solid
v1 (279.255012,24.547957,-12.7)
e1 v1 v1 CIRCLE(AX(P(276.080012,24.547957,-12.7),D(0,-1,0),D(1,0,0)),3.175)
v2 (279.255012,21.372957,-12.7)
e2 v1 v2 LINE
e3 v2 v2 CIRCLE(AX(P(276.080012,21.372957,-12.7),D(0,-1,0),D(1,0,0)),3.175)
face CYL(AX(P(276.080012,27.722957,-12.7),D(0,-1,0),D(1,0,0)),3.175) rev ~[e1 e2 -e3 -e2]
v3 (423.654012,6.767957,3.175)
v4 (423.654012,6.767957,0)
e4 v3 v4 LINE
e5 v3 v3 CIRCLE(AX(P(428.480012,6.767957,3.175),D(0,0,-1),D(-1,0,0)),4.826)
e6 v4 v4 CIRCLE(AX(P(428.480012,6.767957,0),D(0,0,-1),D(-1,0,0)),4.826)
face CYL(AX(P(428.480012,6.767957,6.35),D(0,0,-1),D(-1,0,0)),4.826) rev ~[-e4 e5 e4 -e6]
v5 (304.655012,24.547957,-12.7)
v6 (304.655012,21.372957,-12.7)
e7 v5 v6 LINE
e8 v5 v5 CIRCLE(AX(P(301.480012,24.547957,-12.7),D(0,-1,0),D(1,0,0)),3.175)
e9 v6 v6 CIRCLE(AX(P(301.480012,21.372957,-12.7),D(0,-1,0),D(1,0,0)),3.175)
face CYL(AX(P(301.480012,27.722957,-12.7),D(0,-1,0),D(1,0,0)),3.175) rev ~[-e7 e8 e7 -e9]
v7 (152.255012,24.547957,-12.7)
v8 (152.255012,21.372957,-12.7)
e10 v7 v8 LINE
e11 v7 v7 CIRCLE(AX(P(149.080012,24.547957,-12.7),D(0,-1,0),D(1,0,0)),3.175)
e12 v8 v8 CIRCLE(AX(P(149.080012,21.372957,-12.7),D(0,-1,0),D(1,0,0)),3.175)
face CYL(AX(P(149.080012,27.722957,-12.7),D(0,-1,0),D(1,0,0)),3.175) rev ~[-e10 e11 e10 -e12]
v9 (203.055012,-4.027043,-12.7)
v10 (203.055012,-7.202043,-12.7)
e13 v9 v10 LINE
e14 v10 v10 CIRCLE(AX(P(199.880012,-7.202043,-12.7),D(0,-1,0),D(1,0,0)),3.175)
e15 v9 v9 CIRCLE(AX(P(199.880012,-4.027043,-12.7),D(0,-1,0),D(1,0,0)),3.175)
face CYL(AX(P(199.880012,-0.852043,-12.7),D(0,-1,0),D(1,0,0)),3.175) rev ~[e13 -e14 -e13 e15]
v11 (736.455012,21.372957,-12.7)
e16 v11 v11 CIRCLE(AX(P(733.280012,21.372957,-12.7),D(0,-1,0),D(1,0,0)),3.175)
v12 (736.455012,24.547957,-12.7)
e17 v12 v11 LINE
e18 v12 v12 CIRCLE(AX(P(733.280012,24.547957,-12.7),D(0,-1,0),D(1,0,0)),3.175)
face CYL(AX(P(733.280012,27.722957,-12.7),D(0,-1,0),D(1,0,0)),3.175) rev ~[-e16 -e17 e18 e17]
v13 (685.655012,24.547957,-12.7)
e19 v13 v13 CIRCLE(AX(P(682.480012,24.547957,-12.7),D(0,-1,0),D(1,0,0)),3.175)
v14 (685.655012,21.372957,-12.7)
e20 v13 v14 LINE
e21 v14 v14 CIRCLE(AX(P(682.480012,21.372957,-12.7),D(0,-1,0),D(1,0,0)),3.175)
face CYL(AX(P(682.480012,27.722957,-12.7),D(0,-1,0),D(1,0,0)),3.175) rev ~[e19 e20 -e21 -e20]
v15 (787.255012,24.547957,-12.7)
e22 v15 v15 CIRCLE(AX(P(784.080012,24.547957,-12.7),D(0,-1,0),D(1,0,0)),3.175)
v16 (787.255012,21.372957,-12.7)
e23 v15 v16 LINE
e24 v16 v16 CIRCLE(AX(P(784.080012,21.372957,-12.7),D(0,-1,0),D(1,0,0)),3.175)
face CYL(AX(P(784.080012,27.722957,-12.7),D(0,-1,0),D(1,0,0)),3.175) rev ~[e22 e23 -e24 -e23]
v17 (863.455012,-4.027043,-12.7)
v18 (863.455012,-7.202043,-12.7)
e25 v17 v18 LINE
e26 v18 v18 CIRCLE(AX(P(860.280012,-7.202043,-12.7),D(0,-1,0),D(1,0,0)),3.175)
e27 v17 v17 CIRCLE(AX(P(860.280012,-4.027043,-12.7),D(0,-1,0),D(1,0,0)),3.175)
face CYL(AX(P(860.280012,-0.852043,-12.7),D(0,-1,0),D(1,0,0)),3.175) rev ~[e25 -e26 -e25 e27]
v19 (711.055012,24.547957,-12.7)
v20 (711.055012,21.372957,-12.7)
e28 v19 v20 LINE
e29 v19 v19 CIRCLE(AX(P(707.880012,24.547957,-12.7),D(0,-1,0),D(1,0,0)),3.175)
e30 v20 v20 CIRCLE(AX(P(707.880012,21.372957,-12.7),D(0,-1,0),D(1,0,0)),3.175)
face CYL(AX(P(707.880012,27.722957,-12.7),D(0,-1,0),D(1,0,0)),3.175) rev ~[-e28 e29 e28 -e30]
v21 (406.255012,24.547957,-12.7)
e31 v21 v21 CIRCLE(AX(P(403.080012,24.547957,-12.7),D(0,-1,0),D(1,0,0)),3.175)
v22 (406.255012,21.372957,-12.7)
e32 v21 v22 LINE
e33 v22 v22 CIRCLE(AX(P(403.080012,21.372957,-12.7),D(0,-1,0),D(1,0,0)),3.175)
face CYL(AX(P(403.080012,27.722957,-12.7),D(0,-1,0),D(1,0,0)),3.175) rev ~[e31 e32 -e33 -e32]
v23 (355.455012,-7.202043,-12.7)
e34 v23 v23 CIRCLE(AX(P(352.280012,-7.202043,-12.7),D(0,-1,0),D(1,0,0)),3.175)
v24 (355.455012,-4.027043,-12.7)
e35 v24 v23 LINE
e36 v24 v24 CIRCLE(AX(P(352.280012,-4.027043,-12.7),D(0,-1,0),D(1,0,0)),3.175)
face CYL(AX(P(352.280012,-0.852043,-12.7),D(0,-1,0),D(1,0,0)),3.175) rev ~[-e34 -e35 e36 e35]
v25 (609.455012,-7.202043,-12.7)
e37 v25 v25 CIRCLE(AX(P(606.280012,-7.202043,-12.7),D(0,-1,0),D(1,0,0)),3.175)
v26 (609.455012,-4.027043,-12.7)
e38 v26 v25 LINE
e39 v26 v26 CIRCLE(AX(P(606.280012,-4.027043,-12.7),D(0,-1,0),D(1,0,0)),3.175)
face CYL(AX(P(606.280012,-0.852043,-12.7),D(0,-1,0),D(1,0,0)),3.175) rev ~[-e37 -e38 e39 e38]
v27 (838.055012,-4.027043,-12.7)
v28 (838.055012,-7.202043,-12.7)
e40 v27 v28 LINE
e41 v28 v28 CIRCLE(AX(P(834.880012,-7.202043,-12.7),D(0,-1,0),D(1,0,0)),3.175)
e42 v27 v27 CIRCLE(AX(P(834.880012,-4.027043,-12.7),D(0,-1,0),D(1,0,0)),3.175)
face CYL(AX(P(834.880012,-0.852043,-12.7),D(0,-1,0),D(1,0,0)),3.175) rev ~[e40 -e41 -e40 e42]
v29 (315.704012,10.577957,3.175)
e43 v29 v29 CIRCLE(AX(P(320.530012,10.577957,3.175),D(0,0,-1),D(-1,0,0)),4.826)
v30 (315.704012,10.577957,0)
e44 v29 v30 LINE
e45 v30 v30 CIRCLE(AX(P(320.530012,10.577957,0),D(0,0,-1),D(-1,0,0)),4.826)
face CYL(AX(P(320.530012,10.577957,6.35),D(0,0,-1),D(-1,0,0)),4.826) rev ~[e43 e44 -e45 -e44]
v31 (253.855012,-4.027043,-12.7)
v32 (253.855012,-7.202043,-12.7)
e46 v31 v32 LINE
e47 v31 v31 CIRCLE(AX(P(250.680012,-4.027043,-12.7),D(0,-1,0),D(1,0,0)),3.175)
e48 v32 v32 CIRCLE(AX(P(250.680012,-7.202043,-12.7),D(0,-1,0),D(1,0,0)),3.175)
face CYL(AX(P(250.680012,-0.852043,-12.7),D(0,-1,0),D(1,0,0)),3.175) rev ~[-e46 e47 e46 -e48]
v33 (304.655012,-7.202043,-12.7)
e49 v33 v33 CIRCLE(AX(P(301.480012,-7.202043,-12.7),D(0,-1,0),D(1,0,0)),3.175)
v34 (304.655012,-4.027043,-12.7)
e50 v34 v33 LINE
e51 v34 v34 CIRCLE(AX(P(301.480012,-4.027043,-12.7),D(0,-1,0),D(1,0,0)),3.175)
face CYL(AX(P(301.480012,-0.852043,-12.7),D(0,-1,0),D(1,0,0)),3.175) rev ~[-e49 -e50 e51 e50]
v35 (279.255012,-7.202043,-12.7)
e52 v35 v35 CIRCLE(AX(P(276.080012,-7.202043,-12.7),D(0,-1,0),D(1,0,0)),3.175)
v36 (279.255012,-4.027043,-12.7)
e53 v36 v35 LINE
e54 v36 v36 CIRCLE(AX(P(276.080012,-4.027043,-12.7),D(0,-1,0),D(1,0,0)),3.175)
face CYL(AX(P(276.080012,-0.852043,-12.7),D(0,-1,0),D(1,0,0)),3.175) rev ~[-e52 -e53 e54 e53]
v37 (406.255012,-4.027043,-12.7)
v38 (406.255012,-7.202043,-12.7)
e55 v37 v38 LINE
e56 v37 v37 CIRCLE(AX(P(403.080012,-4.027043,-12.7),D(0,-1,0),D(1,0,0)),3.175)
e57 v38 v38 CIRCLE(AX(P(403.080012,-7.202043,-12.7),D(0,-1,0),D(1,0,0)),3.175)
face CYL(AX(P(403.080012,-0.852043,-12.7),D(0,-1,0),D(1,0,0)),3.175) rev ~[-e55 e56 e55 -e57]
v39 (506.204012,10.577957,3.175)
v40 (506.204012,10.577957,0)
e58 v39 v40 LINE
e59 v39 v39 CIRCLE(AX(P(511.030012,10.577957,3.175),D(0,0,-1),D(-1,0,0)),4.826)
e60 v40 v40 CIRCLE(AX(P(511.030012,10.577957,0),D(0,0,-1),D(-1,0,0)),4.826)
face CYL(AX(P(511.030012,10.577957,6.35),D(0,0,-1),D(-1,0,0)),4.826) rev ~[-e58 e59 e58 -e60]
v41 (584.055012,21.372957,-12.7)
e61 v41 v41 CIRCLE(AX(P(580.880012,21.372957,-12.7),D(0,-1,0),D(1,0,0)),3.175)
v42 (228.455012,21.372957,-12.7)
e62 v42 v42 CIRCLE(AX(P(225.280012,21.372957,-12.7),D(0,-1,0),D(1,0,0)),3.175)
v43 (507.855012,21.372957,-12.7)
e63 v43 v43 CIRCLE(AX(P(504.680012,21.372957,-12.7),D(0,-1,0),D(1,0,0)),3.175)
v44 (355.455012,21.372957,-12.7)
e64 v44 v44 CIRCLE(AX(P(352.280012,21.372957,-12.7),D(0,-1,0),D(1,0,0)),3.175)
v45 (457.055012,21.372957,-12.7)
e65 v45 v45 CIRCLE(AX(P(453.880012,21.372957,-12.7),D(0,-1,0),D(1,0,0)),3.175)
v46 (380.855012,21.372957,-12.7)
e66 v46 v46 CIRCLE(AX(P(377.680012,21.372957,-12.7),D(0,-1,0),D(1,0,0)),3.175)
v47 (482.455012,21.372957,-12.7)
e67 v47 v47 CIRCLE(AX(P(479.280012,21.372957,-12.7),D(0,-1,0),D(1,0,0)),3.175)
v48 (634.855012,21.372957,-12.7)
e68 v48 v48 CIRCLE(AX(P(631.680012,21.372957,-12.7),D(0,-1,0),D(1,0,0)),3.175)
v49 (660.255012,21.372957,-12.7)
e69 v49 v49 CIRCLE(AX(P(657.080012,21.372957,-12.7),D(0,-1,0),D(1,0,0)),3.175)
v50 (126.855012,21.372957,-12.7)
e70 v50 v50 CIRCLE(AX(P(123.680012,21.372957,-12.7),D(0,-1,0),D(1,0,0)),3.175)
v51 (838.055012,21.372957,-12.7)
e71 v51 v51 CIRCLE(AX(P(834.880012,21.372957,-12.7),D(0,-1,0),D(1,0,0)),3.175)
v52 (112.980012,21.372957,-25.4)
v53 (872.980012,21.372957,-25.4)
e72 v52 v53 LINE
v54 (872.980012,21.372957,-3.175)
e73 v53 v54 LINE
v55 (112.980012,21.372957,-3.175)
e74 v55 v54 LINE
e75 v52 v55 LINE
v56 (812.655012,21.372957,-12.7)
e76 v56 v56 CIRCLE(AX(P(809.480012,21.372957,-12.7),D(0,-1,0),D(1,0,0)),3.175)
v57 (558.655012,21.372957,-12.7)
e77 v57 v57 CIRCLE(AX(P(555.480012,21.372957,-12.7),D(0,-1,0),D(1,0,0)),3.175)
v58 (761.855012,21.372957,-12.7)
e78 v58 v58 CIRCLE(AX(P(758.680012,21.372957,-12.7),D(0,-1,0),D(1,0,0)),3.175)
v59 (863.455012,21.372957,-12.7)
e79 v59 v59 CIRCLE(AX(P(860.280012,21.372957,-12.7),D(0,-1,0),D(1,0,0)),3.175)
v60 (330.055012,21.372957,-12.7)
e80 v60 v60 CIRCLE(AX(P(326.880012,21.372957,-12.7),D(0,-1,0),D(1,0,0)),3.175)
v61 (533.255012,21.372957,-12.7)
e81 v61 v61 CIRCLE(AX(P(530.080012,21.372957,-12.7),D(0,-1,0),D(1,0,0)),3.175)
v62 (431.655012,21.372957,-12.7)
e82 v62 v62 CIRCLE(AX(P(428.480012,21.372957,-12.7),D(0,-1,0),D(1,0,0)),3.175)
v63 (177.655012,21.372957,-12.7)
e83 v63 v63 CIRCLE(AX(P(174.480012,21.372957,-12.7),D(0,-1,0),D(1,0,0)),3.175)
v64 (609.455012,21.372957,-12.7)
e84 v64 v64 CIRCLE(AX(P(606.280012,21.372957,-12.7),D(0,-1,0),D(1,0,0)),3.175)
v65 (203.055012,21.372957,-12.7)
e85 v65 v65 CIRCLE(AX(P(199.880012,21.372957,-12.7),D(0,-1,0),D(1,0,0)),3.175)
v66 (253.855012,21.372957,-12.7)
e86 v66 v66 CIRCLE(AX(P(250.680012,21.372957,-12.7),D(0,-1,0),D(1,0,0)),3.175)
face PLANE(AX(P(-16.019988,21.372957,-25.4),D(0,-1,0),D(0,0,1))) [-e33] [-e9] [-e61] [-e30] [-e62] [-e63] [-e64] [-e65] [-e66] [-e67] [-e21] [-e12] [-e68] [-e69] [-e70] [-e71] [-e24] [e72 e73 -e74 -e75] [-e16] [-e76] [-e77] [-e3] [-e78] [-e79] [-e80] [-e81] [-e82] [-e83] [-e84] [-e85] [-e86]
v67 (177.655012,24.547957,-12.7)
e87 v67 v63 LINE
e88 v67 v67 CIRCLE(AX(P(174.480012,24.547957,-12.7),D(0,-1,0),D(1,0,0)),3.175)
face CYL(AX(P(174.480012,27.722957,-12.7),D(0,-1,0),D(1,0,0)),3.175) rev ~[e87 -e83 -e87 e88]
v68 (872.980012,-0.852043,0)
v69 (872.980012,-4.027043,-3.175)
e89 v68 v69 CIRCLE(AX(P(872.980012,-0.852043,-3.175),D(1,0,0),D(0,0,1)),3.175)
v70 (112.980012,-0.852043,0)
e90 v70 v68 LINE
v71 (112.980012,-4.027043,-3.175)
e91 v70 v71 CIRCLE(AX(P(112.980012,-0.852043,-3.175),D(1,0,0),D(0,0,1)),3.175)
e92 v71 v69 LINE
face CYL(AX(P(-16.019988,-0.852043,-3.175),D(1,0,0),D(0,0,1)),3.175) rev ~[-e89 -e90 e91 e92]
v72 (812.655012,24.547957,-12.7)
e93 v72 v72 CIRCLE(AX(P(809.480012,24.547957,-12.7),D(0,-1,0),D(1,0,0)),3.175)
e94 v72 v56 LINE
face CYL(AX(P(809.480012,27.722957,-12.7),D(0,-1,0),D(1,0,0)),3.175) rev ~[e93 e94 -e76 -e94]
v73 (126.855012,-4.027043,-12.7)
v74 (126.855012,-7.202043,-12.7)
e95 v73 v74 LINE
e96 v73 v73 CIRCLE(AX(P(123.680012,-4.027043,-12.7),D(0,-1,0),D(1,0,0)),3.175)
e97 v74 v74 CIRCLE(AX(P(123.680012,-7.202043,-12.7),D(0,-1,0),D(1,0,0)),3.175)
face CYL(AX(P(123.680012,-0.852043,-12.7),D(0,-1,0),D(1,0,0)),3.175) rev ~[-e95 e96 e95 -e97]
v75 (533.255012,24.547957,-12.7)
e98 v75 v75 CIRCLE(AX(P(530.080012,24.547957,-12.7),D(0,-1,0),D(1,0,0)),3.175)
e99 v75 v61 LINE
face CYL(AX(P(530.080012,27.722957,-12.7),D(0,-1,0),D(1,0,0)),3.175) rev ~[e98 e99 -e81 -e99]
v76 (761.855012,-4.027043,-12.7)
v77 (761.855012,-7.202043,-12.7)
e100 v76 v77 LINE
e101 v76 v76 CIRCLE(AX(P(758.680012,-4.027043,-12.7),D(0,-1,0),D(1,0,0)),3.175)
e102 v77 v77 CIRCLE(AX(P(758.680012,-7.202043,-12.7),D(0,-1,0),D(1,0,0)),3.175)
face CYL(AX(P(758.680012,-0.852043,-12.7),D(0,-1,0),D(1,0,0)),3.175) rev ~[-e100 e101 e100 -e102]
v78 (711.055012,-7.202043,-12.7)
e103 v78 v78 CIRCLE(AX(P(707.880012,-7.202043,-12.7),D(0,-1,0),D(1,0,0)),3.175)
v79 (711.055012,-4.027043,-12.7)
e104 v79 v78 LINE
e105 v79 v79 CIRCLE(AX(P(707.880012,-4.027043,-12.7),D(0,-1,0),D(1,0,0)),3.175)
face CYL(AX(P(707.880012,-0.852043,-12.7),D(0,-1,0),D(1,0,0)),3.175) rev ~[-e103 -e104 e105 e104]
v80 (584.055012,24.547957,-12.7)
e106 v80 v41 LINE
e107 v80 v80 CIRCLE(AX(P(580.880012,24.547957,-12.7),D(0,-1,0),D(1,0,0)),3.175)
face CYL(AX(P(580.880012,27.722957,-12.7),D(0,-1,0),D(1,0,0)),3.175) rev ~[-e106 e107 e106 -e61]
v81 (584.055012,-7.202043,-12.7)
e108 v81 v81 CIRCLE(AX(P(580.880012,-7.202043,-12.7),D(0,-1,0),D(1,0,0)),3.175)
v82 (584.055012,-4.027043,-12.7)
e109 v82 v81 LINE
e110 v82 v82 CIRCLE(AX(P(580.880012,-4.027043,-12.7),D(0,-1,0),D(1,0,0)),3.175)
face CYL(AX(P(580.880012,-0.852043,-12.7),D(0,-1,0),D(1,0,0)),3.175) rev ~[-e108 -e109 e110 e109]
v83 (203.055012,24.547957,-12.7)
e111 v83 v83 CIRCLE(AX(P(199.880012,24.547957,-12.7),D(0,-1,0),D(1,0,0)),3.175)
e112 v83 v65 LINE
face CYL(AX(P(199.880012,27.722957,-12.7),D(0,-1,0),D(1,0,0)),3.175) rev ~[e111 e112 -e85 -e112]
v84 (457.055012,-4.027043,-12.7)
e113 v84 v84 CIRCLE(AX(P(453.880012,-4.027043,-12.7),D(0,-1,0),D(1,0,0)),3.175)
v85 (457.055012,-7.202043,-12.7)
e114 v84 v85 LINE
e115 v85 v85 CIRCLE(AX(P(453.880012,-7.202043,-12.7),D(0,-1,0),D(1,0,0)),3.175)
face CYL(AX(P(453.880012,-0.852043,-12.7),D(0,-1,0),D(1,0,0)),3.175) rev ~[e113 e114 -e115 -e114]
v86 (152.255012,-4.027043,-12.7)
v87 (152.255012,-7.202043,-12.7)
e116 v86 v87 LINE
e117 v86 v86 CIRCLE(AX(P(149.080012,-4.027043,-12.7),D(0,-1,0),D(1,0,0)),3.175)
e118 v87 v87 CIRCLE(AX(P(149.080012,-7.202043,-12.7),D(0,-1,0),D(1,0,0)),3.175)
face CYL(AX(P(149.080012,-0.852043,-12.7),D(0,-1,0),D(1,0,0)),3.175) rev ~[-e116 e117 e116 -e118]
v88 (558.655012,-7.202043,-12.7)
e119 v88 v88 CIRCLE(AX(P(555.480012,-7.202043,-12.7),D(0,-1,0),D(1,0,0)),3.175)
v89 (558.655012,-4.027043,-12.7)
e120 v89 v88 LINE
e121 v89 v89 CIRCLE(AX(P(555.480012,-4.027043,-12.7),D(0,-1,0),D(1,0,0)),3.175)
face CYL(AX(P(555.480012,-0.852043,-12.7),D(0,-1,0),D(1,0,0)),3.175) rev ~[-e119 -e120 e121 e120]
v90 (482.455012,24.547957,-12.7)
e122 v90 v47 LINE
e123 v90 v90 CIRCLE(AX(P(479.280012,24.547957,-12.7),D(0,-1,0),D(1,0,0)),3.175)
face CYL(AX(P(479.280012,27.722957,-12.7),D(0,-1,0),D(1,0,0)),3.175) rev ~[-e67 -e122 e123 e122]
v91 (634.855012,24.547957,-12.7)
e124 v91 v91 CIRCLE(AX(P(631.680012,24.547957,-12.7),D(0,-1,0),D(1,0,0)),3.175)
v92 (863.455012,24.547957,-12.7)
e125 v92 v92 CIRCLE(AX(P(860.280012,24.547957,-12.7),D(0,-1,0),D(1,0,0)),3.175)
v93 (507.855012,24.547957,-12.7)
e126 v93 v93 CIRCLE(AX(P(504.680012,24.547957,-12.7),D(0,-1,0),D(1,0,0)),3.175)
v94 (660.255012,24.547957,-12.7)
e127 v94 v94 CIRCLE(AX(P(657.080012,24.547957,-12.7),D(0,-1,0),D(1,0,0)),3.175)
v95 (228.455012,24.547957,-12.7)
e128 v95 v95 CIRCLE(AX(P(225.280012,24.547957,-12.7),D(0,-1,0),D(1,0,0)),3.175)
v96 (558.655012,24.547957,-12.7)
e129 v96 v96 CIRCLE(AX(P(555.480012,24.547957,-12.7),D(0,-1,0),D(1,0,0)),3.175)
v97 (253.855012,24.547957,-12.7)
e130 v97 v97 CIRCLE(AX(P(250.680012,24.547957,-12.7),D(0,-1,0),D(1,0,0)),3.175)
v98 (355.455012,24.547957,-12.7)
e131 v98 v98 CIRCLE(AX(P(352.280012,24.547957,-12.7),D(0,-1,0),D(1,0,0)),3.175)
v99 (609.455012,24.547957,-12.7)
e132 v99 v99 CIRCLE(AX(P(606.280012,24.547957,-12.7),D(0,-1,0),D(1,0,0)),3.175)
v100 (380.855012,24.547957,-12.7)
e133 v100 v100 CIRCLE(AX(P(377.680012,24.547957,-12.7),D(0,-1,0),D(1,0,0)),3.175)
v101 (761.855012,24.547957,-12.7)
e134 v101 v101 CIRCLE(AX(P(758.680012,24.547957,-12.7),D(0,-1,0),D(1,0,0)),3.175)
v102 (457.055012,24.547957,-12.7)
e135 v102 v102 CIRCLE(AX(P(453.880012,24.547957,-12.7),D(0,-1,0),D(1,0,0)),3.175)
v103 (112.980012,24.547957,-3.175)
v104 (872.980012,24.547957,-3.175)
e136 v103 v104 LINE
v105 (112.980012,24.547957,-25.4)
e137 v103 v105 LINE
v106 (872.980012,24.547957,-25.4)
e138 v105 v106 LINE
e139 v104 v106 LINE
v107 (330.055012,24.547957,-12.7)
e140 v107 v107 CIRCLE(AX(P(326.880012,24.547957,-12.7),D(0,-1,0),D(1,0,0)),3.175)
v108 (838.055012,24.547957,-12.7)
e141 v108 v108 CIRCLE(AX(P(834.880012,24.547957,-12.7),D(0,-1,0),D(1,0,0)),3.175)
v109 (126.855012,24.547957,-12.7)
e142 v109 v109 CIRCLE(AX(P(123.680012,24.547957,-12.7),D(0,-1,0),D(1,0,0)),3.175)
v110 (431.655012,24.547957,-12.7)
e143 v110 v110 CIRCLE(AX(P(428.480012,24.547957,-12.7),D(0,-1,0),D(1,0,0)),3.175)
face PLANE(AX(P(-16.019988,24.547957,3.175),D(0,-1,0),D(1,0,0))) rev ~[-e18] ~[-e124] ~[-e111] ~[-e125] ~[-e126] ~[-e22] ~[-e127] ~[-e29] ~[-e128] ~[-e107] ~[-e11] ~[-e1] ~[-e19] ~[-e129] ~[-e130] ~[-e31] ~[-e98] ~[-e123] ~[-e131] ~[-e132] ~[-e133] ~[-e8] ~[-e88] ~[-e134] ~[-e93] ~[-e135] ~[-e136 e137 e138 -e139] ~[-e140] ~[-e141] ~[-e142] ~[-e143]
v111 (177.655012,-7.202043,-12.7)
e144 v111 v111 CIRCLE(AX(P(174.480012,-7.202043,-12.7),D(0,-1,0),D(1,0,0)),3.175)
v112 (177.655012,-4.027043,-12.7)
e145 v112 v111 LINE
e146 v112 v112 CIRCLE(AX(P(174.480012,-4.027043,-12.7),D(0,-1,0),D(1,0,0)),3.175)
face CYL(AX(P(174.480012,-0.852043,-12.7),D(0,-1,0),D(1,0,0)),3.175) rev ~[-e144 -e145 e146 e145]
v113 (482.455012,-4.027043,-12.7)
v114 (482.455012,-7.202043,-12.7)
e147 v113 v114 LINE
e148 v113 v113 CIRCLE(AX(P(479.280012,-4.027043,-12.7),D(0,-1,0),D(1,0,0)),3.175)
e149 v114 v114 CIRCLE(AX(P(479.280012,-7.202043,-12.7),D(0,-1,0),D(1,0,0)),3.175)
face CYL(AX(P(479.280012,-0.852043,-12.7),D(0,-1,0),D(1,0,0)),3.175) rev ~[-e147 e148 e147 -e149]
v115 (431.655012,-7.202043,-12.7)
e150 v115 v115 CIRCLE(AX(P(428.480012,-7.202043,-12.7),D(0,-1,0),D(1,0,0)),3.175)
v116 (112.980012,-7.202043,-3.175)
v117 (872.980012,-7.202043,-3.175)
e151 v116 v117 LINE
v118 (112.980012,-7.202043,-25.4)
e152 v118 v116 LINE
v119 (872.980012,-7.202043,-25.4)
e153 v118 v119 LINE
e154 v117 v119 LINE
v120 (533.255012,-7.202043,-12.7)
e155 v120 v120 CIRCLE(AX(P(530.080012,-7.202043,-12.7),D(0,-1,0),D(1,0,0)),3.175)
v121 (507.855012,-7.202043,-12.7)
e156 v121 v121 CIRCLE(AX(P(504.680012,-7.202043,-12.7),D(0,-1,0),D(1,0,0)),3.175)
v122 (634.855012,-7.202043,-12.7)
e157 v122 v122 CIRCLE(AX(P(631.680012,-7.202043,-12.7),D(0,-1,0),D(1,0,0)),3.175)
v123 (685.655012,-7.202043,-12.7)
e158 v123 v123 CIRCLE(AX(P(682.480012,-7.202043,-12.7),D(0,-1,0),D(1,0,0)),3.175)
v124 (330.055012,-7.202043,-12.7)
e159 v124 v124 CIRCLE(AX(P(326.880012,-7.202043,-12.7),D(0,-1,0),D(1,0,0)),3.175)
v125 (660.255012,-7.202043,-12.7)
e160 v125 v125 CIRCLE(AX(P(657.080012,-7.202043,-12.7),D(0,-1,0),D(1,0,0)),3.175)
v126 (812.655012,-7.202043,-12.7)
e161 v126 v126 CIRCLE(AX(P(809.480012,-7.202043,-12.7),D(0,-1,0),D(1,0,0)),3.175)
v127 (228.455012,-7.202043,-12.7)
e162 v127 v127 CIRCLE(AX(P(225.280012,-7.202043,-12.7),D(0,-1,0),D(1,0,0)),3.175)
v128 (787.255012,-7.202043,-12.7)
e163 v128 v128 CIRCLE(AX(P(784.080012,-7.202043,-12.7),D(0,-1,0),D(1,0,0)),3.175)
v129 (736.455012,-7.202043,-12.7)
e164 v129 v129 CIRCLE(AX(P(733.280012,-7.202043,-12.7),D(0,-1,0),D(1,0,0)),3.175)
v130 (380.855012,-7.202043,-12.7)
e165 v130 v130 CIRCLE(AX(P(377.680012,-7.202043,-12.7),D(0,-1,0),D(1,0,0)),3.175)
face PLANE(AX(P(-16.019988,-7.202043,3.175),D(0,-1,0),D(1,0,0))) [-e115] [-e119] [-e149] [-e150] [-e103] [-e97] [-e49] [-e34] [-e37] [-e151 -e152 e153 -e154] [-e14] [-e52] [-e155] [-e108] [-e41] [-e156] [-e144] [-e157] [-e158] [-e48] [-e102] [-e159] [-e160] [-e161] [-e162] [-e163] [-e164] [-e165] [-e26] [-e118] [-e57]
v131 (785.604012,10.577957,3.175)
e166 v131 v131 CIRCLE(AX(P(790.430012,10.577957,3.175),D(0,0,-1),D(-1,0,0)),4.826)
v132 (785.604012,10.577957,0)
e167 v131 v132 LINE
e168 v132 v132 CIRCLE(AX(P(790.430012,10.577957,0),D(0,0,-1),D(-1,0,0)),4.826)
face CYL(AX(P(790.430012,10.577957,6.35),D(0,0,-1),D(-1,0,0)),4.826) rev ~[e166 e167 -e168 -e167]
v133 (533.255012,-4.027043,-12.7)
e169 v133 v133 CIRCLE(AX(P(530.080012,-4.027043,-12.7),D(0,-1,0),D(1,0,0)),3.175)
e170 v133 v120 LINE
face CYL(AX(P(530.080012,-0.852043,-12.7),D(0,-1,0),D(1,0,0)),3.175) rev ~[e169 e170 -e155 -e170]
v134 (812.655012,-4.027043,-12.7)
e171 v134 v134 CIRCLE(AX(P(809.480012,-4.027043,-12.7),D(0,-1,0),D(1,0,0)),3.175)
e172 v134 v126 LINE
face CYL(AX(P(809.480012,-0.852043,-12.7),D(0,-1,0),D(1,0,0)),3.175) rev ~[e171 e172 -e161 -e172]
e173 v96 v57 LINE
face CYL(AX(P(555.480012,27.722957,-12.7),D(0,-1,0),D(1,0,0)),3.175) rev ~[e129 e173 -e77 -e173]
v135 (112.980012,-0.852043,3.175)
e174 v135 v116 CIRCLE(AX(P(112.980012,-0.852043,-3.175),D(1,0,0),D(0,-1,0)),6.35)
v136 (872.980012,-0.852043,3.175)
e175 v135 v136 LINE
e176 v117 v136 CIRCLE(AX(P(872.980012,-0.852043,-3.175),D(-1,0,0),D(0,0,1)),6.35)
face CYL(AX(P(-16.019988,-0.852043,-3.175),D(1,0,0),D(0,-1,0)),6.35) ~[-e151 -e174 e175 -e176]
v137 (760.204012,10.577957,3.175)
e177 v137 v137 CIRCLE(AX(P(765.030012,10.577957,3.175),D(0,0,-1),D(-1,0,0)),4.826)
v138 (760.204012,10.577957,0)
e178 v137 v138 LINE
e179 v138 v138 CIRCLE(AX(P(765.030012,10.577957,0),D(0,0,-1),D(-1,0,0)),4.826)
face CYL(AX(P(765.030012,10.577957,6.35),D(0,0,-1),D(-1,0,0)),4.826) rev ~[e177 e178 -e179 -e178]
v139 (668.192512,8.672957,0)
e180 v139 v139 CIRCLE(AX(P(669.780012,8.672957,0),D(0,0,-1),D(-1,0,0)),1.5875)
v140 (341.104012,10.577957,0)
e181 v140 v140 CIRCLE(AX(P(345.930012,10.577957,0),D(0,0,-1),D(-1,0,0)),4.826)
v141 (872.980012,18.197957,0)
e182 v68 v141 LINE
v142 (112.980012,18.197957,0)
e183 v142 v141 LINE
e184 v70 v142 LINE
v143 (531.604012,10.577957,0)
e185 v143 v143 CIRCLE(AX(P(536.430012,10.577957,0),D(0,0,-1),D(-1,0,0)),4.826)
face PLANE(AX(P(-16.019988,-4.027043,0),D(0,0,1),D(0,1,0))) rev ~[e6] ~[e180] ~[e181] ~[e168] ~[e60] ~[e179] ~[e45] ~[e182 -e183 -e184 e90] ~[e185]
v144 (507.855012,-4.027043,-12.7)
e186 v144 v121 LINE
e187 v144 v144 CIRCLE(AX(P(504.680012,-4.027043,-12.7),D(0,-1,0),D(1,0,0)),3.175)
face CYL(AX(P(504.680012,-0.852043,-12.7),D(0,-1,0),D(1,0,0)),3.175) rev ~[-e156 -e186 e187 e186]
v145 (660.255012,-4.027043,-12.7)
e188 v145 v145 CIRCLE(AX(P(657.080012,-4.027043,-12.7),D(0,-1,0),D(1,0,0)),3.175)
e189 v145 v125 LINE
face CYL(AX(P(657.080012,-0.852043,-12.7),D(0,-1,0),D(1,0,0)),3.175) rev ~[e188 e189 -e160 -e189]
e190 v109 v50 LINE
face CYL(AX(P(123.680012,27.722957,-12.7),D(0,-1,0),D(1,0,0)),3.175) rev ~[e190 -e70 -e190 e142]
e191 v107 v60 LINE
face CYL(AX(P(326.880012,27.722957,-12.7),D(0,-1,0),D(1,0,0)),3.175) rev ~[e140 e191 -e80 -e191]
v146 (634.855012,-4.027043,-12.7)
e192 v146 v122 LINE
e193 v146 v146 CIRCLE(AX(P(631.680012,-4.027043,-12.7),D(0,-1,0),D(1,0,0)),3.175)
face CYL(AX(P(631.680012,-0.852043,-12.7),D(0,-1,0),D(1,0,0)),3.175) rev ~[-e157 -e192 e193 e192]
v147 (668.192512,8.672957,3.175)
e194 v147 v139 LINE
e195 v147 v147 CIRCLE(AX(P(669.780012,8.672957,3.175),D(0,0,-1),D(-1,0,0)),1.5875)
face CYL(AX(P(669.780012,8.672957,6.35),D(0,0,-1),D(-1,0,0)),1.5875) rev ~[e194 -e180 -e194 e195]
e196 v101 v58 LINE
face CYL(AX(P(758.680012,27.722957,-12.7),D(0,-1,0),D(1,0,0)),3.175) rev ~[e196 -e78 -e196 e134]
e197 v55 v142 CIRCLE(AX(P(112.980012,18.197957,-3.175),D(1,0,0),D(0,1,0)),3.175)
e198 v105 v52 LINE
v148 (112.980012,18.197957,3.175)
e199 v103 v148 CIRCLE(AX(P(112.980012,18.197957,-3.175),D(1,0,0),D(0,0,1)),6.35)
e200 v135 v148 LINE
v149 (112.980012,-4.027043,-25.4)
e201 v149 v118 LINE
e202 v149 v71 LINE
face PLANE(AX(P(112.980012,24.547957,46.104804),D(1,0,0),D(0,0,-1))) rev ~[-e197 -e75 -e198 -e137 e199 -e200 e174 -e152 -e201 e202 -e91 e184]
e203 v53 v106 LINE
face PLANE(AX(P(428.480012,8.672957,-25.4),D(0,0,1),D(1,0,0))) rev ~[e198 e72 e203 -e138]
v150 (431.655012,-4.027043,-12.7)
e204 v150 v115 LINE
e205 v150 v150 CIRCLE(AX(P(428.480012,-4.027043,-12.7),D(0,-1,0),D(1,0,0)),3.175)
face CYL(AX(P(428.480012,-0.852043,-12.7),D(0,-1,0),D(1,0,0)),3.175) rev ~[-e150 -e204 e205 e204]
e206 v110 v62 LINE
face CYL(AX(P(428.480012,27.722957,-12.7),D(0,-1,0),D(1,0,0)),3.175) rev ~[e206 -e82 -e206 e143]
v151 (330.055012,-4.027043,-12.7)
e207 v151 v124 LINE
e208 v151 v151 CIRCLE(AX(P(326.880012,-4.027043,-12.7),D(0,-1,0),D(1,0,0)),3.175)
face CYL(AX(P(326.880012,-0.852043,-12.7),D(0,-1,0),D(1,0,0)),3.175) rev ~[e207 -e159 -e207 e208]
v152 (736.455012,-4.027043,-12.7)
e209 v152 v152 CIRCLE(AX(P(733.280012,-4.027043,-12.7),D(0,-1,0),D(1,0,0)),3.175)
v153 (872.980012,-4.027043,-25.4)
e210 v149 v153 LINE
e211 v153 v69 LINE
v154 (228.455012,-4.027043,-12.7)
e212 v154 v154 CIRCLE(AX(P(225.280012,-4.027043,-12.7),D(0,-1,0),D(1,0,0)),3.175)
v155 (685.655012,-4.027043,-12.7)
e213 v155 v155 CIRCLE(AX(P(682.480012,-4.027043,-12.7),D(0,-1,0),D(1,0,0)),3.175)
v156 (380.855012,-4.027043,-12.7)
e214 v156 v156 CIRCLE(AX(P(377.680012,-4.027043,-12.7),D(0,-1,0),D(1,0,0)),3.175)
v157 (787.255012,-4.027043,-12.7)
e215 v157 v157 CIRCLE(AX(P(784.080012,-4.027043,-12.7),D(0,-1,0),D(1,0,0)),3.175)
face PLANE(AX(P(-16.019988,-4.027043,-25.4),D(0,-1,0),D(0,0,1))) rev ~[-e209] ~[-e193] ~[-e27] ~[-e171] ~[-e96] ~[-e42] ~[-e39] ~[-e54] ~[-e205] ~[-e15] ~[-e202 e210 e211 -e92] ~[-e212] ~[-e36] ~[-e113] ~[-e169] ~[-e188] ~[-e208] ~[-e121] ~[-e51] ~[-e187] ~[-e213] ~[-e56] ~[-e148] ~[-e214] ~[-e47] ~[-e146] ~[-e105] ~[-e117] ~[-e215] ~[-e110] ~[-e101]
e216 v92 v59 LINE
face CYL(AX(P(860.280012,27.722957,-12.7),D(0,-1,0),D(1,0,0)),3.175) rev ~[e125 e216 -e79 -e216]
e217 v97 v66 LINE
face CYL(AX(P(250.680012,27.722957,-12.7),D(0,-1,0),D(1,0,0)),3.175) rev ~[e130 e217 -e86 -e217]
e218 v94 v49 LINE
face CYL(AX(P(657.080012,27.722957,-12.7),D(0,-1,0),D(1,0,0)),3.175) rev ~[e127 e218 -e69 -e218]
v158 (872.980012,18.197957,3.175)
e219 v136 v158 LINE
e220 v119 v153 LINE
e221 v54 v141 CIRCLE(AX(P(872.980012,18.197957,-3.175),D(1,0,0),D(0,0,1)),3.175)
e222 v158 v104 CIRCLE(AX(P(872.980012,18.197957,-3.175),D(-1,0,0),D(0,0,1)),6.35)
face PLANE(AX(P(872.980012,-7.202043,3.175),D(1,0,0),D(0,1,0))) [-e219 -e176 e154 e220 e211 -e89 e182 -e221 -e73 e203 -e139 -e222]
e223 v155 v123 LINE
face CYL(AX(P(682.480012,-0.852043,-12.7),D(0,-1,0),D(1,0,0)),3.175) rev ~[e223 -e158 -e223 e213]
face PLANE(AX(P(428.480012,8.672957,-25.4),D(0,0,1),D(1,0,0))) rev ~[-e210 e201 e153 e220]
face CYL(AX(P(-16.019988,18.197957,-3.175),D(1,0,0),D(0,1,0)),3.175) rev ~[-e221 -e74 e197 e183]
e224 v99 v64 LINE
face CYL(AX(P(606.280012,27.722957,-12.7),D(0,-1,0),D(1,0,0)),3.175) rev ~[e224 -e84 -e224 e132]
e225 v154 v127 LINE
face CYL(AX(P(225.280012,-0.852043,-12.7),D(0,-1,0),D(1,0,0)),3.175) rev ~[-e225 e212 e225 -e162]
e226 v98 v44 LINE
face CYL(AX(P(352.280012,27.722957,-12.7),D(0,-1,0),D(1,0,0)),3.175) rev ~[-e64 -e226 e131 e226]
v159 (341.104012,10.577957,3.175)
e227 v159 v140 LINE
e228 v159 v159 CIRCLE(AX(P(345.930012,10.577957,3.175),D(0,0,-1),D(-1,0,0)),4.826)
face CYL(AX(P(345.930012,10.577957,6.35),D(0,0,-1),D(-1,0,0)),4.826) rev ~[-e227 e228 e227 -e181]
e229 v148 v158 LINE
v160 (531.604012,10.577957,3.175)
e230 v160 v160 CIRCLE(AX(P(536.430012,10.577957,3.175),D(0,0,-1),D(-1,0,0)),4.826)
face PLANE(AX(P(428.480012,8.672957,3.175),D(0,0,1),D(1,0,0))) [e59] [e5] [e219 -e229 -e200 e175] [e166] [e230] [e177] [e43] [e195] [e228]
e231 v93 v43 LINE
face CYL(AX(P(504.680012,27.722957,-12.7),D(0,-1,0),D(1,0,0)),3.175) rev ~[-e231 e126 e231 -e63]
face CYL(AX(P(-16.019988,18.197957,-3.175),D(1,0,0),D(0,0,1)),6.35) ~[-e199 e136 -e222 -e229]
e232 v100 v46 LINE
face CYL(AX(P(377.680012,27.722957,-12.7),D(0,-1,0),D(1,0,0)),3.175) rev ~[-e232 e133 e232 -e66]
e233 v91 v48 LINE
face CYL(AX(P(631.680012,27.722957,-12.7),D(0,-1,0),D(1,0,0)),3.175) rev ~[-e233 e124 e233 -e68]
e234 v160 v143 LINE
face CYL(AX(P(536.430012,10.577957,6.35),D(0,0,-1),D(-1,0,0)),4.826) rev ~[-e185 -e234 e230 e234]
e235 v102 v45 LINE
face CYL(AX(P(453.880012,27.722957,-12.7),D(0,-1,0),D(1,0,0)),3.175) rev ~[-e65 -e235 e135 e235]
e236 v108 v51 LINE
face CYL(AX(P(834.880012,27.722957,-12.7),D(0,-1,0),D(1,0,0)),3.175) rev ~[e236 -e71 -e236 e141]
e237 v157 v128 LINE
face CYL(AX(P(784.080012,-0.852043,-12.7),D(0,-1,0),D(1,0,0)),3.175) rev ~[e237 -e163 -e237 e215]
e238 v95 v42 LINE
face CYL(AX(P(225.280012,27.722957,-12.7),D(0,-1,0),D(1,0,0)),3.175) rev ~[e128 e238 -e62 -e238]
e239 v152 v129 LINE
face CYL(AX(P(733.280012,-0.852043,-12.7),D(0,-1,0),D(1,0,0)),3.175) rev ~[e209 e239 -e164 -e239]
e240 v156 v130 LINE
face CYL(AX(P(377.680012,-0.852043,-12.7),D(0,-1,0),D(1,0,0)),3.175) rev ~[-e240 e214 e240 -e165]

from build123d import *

# Parameters (mm, degrees)
SKETCH1_W          = 889
SKETCH1_H          = 31.75
EXTRUDE1_DEPTH     = 28.575
EXTRUDE2_REACH     = 891
SKETCH2_W          = 25.4
SKETCH2_H          = 25.4
HOLE1_D            = 6.35
HOLE1_DEPTH        = 3.175
LPATTERN1_COUNT    = 35
LPATTERN1_PITCH    = 25.4
HOLE2_D            = 9.652
HOLE2_DEPTH        = 3.175
LPATTERN2_COUNT    = 12
LPATTERN2_PITCH    = 25.4
HOLE3_D            = 9.652
HOLE3_DEPTH        = 3.175
HOLE4_D            = 9.652
HOLE4_DEPTH        = 3.175
LPATTERN3_COUNT    = 12
LPATTERN3_PITCH    = 25.4
HOLE5_D            = 3.175
HOLE5_DEPTH        = 3.175
HOLE6_D            = 6.35
HOLE6_DEPTH        = 3.175
LPATTERN4_COUNT    = 35
LPATTERN4_PITCH    = 25.4
FILLET1_R          = 3.175
FILLET2_R          = 3.175
FILLET3_R          = 6.35
FILLET4_R          = 6.35
SKETCH16_W         = 145.760071232
SKETCH16_H         = 71.504803879
CUT_EXTRUDE2_DEPTH = 75


with BuildPart() as part:
    # Sketch1 → Extrude1 (new body)
    with BuildSketch(Plane.XY.offset(3.175)):
        with Locations((428.480011997, 8.672957166)):
            Rectangle(SKETCH1_W, SKETCH1_H)
    extrude(amount=-EXTRUDE1_DEPTH)

    # Sketch2 → Extrude2 (cut, up to next)
    with BuildSketch(Plane.ZY.offset(16.019988003), mode=Mode.PRIVATE) as extrude2_sk1:
        with Locations((-12.7, 8.672957166)):
            Rectangle(SKETCH2_W, SKETCH2_H)
    extrude2_tool1 = extrude(extrude2_sk1.sketch, amount=-EXTRUDE2_REACH, mode=Mode.PRIVATE) & part.part
    add(extrude2_tool1.solids().sort_by_distance((-16.019988, 8.672957, -12.7))[0], mode=Mode.SUBTRACT)

    # Hole1
    with Locations(Plane(origin=(0, 24.547957166, 0), x_dir=(-1, 0, 0), z_dir=(0, 1, 0))):
        with Locations((3.319988003, -12.7)):
            hole1 = Hole(HOLE1_D / 2, depth=HOLE1_DEPTH)

    # LPattern1: Hole1 ×35
    with Locations(*[(i * LPATTERN1_PITCH, 0, 0) for i in range(1, LPATTERN1_COUNT)]):
        add(hole1, mode=Mode.SUBTRACT)

    # Hole2
    with Locations(Plane.XY.offset(3.175)):
        with Locations((66.530011997, 10.577957166)):
            hole2 = Hole(HOLE2_D / 2, depth=HOLE2_DEPTH)

    # LPattern2: Hole2 ×12, 8 skipped
    with Locations(*[(i * LPATTERN2_PITCH, 0, 0) for i in range(1, LPATTERN2_COUNT) if i not in (2, 3, 4, 5, 6, 7, 8, 9)]):
        add(hole2, mode=Mode.SUBTRACT)

    # Hole3
    with Locations(Plane.XY.offset(3.175)):
        with Locations((428.480011997, 6.767957166)):
            Hole(HOLE3_D / 2, depth=HOLE3_DEPTH)

    # Hole4
    with Locations(Plane.XY.offset(3.175)):
        with Locations((511.030011997, 10.577957166)):
            hole4 = Hole(HOLE4_D / 2, depth=HOLE4_DEPTH)

    # LPattern3: Hole4 ×12, 8 skipped
    with Locations(*[(i * LPATTERN3_PITCH, 0, 0) for i in range(1, LPATTERN3_COUNT) if i not in (2, 3, 4, 5, 6, 7, 8, 9)]):
        add(hole4, mode=Mode.SUBTRACT)

    # Hole5
    with Locations(Plane.XY.offset(3.175)):
        with Locations((669.780011997, 8.672957166)):
            Hole(HOLE5_D / 2, depth=HOLE5_DEPTH)

    # Hole6
    with Locations(Plane(origin=(0, -4.027042834, 0), x_dir=(-1, 0, 0), z_dir=(0, 1, 0))):
        with Locations((3.319988003, -12.7)):
            hole6 = Hole(HOLE6_D / 2, depth=HOLE6_DEPTH)

    # LPattern4: Hole6 ×35
    with Locations(*[(i * LPATTERN4_PITCH, 0, 0) for i in range(1, LPATTERN4_COUNT)]):
        add(hole6, mode=Mode.SUBTRACT)

    # Fillet1
    fillet1_edges = [part.edges().sort_by_distance(p)[0] for p in [
        (428.480011997, 21.372957166, 0),
    ]]
    fillet(fillet1_edges, radius=FILLET1_R)

    # Fillet2
    fillet2_edges = [part.edges().sort_by_distance(p)[0] for p in [
        (428.480011997, -4.027042834, 0),
    ]]
    fillet(fillet2_edges, radius=FILLET2_R)

    # Fillet3
    fillet3_edges = [part.edges().sort_by_distance(p)[0] for p in [
        (428.480011997, -7.202042834, 3.175),
    ]]
    fillet(fillet3_edges, radius=FILLET3_R)

    # Fillet4
    fillet4_edges = [part.edges().sort_by_distance(p)[0] for p in [
        (428.480011997, 24.547957166, 3.175),
    ]]
    fillet(fillet4_edges, radius=FILLET4_R)

    # Sketch16 → Cut-Extrude2 (cut)
    with BuildSketch(Plane(origin=(0, 24.547957166, 0), x_dir=(1, 0, 0), z_dir=(0, 1, 0))):
        with Locations((40.099976381, -10.352401939)):
            Rectangle(SKETCH16_W, SKETCH16_H)
    extrude(amount=-CUT_EXTRUDE2_DEPTH, mode=Mode.SUBTRACT)


solid = part.part
